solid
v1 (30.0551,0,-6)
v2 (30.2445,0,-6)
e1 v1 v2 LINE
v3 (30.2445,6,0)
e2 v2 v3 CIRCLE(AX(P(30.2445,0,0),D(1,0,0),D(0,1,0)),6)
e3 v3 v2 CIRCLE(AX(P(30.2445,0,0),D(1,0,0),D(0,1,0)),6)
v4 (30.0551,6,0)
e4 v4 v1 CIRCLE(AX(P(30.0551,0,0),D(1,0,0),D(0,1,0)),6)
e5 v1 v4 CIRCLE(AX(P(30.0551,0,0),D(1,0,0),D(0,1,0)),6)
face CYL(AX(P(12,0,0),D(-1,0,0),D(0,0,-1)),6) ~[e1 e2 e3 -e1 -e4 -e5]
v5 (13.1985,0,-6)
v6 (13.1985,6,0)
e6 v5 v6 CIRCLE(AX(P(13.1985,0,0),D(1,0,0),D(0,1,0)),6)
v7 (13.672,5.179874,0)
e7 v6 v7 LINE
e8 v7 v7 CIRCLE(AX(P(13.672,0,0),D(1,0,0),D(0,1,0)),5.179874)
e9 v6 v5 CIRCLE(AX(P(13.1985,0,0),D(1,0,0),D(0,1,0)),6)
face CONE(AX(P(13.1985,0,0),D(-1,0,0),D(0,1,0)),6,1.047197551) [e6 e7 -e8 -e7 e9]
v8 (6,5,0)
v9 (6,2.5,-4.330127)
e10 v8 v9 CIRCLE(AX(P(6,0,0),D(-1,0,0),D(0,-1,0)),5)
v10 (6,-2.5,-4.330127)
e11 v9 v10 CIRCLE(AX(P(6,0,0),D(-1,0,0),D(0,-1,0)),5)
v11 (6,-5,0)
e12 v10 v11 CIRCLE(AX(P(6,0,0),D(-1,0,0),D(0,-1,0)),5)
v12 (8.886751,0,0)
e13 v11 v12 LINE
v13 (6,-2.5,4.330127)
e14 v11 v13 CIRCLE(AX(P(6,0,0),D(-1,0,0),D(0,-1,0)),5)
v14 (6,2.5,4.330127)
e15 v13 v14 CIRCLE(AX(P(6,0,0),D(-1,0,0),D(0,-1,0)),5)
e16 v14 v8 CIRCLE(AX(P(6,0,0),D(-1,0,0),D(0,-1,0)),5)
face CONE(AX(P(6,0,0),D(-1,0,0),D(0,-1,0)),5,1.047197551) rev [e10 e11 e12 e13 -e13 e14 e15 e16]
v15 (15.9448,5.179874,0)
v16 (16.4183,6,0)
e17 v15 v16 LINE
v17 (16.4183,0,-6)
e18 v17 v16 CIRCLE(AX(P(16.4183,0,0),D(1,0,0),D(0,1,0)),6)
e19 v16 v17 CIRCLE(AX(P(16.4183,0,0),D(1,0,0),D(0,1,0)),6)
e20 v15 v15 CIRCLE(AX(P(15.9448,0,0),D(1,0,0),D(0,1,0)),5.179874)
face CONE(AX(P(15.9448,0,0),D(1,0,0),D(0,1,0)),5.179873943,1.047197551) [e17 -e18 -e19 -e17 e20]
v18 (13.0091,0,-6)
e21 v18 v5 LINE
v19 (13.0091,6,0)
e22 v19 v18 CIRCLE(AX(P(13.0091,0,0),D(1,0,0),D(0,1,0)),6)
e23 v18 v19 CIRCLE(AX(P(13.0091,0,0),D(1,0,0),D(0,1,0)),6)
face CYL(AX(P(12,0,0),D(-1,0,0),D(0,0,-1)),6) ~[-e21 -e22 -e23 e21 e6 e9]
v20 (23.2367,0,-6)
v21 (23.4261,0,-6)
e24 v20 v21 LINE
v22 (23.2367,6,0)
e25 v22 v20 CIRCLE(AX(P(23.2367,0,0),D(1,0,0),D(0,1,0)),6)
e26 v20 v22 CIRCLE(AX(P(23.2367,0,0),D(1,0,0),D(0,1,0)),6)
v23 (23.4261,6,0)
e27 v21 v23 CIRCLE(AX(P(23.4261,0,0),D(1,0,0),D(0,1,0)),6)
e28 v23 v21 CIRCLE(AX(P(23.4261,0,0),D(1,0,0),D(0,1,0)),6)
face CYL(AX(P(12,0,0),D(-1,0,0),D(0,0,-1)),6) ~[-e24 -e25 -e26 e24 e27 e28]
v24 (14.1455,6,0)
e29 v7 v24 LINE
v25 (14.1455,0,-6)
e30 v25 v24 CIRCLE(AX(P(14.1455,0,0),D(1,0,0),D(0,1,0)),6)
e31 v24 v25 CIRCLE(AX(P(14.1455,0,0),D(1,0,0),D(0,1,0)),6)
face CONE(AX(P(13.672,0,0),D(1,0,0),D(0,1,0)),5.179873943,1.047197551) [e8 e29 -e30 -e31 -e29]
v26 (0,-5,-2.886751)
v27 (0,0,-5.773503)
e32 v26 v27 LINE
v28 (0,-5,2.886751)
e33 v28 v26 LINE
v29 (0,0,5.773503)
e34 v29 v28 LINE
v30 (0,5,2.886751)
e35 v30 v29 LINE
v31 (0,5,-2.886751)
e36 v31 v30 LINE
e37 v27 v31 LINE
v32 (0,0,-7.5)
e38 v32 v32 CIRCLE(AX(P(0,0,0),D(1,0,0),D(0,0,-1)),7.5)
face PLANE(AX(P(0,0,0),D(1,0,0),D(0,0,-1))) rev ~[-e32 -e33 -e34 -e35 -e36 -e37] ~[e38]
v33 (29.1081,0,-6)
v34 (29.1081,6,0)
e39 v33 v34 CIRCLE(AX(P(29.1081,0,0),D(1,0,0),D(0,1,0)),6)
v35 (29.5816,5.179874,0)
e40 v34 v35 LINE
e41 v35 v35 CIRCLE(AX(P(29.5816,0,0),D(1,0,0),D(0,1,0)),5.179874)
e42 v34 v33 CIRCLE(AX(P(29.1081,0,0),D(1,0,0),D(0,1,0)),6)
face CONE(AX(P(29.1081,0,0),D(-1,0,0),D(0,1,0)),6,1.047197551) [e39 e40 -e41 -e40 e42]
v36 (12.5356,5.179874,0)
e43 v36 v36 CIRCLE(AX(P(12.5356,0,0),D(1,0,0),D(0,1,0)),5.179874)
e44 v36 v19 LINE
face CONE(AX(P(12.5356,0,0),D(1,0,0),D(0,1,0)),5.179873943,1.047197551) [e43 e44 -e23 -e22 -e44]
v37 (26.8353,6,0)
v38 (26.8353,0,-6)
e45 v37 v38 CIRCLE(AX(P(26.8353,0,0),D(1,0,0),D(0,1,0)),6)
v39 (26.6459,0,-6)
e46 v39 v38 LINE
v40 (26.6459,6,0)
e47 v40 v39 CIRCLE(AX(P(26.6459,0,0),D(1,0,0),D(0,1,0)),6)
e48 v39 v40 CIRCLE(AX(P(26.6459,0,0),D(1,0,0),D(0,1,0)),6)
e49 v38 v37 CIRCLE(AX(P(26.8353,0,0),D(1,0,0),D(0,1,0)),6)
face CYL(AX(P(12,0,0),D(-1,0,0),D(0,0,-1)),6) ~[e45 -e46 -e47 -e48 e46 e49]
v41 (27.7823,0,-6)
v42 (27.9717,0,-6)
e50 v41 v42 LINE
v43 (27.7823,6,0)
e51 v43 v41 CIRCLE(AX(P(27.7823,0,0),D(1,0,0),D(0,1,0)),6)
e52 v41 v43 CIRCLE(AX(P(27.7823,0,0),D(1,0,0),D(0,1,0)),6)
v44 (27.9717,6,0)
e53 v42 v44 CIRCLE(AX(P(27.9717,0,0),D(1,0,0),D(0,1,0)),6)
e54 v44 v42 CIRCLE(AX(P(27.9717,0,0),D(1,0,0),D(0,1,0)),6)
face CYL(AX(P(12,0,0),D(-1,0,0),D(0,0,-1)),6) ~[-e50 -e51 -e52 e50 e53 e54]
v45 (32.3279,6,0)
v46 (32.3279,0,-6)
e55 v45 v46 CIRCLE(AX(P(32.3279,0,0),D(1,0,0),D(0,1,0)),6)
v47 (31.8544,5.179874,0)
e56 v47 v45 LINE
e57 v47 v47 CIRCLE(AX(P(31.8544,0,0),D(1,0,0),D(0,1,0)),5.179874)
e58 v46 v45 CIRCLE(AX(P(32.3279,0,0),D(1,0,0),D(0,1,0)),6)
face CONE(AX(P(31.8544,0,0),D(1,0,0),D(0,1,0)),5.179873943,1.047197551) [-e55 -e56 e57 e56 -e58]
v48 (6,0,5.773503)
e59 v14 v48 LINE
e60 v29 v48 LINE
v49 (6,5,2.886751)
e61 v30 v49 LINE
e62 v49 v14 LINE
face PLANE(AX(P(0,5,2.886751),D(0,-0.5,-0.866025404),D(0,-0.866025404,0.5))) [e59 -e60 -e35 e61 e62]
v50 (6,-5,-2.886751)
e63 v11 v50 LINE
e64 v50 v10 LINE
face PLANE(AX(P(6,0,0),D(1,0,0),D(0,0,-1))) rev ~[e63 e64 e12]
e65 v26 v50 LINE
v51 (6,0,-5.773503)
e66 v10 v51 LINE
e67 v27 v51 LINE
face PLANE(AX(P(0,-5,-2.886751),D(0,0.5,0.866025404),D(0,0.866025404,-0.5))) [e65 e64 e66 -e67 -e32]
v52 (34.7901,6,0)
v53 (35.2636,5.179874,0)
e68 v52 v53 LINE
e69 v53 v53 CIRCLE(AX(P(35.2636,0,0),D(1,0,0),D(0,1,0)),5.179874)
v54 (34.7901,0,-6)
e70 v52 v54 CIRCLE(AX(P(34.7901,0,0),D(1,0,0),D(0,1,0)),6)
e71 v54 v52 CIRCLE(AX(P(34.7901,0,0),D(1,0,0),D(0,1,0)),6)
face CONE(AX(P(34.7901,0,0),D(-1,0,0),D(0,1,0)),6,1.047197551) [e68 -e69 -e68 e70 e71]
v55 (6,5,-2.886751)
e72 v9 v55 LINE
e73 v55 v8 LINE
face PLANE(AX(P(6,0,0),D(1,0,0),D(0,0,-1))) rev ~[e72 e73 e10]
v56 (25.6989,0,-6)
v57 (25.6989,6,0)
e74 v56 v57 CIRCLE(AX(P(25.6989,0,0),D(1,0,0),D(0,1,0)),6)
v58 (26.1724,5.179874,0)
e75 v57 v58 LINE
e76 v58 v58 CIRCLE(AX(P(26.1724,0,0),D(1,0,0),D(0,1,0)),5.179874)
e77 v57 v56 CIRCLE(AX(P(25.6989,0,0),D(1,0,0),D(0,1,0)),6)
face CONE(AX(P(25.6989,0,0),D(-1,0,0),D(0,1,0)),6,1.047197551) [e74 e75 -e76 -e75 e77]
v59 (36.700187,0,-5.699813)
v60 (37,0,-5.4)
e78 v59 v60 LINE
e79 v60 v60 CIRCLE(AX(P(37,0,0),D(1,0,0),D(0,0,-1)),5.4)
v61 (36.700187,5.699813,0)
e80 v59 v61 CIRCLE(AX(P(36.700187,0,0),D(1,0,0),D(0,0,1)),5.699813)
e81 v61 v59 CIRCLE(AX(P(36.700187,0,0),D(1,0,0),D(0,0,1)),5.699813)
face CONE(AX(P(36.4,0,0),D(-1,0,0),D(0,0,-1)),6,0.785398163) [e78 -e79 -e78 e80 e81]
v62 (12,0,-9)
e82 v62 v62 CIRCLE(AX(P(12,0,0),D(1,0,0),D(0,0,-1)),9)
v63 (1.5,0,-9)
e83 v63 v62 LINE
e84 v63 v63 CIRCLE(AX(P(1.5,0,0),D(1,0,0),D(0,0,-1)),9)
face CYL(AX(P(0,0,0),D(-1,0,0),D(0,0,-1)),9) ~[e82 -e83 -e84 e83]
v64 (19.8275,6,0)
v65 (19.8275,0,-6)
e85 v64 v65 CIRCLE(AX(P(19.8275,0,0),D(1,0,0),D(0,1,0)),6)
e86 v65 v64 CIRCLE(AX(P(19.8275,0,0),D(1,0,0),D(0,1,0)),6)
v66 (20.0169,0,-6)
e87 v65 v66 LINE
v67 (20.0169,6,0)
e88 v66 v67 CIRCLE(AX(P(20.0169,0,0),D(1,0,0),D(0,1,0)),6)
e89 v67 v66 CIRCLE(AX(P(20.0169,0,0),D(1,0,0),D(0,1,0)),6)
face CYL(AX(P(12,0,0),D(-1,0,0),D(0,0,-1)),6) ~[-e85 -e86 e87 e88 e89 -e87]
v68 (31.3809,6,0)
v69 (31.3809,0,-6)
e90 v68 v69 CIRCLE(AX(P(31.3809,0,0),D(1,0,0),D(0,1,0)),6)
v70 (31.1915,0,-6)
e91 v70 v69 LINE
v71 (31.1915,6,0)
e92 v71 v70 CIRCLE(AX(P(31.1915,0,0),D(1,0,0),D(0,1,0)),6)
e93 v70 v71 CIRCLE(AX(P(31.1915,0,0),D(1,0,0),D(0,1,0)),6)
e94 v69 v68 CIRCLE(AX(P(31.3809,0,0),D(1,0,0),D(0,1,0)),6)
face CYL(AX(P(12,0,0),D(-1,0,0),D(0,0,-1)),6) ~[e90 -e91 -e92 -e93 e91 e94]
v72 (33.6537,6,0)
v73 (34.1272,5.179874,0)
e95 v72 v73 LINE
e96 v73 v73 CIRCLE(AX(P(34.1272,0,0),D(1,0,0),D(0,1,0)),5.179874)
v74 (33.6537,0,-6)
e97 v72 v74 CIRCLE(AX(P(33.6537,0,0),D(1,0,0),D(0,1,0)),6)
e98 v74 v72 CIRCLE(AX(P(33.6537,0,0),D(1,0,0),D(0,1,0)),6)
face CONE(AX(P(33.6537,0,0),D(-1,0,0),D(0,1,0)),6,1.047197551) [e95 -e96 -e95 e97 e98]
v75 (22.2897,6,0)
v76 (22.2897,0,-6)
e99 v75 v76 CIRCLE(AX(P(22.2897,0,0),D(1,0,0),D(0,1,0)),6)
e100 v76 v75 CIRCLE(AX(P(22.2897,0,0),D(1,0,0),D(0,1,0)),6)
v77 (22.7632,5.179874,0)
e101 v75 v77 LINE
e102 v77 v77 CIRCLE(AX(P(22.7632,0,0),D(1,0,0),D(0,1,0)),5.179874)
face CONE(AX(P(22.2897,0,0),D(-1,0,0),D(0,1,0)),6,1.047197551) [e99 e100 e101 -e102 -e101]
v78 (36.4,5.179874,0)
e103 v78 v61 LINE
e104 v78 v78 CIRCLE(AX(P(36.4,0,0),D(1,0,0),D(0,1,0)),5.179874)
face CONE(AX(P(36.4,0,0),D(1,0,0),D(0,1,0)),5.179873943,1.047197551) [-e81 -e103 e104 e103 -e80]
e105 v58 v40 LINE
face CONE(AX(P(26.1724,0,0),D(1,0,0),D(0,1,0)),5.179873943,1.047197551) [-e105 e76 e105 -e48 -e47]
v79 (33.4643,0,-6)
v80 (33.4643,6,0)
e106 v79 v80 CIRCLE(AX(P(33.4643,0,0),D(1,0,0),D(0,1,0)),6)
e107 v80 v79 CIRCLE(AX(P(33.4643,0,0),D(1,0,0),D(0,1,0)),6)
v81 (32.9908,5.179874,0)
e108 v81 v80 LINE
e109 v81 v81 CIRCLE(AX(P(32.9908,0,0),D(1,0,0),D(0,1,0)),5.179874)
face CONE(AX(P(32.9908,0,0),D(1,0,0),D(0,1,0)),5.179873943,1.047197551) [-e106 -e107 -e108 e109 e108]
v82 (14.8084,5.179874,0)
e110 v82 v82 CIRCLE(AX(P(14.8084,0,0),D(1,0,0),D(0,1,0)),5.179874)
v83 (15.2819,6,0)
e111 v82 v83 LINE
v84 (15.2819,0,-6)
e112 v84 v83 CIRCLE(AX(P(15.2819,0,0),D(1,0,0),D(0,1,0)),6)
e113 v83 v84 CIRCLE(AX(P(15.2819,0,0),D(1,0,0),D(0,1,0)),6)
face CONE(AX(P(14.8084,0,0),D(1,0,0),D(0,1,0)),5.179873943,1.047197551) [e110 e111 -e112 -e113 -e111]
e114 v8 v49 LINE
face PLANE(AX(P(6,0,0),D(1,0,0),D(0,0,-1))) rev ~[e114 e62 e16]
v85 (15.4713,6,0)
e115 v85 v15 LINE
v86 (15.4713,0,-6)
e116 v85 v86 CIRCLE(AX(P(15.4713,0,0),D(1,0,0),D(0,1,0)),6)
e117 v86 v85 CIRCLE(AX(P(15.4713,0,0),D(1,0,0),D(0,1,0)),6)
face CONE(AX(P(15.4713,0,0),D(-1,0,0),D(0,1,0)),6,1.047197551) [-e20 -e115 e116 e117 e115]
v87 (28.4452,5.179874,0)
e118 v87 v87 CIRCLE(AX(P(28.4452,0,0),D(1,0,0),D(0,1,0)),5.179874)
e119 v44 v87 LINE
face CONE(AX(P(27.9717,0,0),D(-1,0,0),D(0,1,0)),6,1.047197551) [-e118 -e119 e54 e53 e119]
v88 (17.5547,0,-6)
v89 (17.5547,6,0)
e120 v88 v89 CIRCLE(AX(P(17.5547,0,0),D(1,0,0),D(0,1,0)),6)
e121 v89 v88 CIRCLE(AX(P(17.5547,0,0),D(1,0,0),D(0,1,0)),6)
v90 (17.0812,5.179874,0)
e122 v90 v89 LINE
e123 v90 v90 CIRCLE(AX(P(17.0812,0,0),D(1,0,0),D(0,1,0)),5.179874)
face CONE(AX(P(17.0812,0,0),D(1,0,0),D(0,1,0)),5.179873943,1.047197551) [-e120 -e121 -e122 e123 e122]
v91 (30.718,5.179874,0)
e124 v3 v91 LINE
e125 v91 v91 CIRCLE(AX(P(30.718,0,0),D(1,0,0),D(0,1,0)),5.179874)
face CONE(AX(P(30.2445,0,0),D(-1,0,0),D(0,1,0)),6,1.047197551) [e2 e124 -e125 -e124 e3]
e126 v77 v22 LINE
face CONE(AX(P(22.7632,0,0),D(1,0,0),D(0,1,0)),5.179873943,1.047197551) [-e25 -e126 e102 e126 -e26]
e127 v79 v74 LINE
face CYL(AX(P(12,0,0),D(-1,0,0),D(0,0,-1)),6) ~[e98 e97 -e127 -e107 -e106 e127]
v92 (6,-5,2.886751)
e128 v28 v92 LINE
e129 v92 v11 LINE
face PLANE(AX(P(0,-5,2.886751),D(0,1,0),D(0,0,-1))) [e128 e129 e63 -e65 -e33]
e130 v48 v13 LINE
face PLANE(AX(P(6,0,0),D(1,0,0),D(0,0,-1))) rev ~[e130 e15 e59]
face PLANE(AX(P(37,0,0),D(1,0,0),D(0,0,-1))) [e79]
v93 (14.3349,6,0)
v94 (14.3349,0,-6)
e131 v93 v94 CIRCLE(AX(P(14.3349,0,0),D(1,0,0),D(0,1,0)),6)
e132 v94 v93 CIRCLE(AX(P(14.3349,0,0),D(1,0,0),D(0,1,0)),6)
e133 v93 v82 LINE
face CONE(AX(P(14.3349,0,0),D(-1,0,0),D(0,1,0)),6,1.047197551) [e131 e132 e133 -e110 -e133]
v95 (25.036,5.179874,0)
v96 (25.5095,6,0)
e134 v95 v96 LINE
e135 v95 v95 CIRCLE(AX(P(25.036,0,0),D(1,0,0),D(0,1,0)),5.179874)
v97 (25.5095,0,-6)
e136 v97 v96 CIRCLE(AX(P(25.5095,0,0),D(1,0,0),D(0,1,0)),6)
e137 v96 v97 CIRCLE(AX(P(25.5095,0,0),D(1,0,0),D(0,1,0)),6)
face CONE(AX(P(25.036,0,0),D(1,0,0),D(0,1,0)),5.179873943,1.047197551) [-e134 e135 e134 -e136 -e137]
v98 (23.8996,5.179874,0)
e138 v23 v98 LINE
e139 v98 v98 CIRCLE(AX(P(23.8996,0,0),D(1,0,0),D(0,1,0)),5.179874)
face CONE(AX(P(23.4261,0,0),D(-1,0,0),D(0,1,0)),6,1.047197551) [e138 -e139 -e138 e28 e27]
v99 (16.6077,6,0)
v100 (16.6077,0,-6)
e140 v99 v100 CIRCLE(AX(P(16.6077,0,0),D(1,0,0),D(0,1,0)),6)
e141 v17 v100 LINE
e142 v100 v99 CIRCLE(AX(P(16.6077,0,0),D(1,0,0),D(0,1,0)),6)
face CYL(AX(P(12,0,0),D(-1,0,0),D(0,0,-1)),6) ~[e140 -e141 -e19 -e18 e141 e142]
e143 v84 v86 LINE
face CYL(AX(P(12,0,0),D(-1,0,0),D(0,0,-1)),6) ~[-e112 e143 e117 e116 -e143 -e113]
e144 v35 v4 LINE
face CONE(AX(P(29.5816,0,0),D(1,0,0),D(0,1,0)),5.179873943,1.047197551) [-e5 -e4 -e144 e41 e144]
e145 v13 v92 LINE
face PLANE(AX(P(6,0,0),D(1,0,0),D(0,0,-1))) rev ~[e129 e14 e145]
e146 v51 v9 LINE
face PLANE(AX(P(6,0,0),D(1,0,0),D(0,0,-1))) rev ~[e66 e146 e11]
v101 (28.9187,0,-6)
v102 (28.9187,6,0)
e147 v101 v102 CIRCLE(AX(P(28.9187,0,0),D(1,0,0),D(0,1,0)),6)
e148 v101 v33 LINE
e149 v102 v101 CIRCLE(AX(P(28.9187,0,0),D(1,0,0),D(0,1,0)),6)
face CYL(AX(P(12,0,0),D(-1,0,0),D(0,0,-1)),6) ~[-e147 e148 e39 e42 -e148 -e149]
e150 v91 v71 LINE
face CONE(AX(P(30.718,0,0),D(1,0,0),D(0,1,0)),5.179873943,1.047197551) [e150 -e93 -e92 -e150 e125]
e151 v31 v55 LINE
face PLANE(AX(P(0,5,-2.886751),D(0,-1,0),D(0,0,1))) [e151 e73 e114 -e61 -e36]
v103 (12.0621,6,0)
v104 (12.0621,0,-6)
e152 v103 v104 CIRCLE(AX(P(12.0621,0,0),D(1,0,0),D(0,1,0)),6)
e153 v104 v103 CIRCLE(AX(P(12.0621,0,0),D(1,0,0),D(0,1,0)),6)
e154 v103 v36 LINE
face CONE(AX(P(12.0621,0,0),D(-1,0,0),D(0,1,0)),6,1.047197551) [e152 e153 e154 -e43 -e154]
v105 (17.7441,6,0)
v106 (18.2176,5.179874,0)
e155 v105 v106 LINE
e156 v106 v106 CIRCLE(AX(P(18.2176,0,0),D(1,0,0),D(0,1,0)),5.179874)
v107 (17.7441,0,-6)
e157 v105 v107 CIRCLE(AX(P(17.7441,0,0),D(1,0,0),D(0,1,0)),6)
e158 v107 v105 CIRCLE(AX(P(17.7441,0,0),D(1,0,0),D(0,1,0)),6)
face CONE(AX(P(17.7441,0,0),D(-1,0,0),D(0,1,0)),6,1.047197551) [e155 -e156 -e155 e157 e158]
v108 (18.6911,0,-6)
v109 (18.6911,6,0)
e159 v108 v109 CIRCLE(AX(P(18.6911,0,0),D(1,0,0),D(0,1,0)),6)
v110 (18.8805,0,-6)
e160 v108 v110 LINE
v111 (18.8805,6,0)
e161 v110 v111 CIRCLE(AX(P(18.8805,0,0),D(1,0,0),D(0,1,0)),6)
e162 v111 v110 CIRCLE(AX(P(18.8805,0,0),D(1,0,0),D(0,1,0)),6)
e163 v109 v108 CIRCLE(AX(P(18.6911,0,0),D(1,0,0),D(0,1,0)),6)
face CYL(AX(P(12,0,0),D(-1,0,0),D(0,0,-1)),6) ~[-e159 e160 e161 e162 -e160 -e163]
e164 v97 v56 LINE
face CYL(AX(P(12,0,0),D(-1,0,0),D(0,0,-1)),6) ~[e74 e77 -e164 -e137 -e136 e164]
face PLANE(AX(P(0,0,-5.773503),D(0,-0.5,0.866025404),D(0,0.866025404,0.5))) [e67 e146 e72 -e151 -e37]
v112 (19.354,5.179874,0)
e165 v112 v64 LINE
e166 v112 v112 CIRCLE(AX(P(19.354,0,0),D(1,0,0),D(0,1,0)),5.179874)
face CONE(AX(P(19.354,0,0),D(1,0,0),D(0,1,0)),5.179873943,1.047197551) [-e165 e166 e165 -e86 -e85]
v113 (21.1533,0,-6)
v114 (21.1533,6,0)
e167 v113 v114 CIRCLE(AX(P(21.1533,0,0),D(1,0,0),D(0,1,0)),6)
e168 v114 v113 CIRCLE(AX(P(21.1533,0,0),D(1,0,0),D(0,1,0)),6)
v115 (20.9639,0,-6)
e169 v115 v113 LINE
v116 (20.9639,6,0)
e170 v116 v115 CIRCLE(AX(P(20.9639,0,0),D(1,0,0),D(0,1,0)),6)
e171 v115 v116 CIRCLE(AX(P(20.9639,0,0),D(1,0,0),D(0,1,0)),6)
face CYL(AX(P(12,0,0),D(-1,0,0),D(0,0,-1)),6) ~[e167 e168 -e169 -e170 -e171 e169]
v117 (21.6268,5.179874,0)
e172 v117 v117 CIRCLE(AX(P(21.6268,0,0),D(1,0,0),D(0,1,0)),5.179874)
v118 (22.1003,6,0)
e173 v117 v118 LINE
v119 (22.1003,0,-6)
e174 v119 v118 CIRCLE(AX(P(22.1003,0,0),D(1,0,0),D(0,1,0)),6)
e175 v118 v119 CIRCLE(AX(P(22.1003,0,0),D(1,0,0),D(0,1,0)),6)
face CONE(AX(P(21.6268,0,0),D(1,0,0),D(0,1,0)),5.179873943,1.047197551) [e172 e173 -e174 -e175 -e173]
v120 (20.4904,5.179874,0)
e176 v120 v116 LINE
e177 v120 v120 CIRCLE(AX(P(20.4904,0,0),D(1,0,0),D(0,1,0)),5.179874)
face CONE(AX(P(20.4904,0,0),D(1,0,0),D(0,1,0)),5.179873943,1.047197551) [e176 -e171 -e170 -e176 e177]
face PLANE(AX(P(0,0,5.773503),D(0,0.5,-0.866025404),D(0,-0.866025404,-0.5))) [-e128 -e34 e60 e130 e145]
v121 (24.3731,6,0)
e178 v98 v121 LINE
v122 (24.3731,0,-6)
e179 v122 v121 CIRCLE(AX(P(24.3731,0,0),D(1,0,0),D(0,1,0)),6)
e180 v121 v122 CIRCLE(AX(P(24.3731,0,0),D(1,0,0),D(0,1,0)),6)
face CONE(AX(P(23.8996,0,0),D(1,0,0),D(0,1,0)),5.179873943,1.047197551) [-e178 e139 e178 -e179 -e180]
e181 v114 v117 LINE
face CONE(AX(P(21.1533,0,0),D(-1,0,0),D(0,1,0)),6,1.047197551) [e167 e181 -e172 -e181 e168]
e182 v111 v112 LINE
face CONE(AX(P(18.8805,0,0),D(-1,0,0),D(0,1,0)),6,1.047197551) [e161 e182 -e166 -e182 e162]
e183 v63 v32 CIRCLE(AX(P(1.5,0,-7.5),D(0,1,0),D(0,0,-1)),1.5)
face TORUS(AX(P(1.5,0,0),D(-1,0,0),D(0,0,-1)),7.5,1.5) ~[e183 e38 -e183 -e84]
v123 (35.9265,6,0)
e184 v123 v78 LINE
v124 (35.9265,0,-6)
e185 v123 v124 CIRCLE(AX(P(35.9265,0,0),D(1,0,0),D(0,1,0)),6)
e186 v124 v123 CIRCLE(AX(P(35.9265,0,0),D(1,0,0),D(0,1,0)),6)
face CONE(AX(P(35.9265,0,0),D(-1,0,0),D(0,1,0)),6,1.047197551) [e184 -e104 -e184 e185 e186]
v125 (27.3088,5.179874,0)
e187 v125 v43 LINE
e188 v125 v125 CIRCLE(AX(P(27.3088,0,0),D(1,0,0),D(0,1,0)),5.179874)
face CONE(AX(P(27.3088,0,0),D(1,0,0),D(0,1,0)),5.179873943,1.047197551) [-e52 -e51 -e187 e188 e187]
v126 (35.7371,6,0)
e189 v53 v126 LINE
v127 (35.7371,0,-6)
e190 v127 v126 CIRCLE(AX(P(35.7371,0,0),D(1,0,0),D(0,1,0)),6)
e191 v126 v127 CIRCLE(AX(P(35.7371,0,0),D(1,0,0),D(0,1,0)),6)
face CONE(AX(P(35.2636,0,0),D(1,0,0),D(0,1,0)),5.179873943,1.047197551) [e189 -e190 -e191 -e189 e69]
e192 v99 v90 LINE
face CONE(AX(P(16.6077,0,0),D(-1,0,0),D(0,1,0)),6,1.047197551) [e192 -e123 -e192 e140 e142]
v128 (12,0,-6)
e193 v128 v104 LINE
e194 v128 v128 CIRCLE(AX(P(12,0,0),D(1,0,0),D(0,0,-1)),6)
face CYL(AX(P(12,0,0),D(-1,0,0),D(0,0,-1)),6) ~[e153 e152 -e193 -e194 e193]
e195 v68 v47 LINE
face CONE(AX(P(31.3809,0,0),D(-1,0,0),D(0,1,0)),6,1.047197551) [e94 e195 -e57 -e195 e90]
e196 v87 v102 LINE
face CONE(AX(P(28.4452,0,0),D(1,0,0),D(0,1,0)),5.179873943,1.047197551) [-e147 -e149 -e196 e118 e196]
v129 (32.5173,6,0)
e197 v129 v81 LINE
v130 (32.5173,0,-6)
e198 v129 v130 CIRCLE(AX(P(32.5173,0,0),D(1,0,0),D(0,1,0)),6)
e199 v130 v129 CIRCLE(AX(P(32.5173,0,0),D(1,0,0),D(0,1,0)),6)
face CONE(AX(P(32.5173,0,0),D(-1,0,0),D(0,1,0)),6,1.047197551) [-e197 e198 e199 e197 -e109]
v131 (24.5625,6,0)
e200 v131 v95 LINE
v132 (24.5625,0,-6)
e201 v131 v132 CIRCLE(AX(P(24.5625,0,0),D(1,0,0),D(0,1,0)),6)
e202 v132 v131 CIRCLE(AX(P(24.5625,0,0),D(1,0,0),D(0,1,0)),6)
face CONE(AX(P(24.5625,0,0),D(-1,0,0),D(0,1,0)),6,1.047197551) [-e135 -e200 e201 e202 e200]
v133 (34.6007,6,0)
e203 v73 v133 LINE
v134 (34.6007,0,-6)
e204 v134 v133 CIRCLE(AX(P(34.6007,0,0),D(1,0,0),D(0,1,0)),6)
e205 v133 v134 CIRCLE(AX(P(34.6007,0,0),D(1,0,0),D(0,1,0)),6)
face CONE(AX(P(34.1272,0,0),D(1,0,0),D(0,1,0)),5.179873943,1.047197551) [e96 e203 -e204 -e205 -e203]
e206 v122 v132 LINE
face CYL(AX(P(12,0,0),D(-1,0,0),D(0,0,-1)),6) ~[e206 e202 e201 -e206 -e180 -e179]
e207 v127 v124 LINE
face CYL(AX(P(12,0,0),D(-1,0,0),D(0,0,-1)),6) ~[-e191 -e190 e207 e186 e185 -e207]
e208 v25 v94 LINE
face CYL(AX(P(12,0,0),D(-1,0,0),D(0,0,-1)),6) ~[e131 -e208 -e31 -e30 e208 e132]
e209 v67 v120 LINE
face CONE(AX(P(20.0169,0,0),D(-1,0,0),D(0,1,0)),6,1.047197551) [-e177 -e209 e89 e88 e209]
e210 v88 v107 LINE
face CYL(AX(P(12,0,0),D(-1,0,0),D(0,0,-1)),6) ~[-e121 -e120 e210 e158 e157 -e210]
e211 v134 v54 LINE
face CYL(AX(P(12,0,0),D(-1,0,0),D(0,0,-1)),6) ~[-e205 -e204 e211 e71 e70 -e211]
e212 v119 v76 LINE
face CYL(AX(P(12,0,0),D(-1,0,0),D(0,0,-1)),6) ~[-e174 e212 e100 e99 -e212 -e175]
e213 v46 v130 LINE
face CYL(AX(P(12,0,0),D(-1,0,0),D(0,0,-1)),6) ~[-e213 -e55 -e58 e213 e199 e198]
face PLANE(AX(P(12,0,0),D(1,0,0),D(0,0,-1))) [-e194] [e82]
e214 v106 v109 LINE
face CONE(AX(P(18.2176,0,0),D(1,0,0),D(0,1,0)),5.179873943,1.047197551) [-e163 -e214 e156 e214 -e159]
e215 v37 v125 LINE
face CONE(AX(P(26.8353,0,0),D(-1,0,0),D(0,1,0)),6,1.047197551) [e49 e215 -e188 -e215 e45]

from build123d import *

# Parameters (mm, degrees)
SKETCH1_R           = 9
BASEHEAD_DEPTH      = 12
SKETCH2_R           = 6
BASEBODY_DEPTH      = 25
HEXAGONSOCKET_DEPTH = 6
TOPFILLET_R         = 1.5
CHAMFER1_SIZE       = 0.6
LPATTERN10_COUNT    = 22
LPATTERN10_PITCH    = 1.1364


with BuildPart() as part:
    # Sketch1 → BaseHead (new body)
    with BuildSketch(Plane(origin=(0, 0, 0), x_dir=(0, 0, -1), z_dir=(1, 0, 0))):
        Circle(SKETCH1_R)
    extrude(amount=BASEHEAD_DEPTH)

    # Sketch2 → BaseBody (add)
    with BuildSketch(Plane(origin=(12, 0, 0), x_dir=(0, 0, -1), z_dir=(1, 0, 0))):
        Circle(SKETCH2_R)
    extrude(amount=BASEBODY_DEPTH)

    # Sketch3 → HexagonSocket (cut)
    with BuildSketch(Plane(origin=(0, 0, 0), x_dir=(0, 0, -1), z_dir=(1, 0, 0))):
        Polygon((5.773502692, 0), (2.886751346, 5), (-2.886751346, 5), (-5.773502692, 0), (-2.886751346, -5), (2.886751346, -5), align=None)
    extrude(amount=HEXAGONSOCKET_DEPTH, mode=Mode.SUBTRACT)

    # Sketch4 → Cut-Revolve1 (revolve, cut)
    with BuildSketch(Plane(origin=(-4.19613823, 0.75, 0), x_dir=(-1, 0, 0), z_dir=(0, 0, 1))):
        Polygon((-10.19613823, 5.75), (-13.082889576, 0.75), (-10.19613823, 0.75), align=None)
    revolve(axis=Axis((0.838992387, 0, 0), (-1, 0, 0)), mode=Mode.SUBTRACT)

    # TopFillet
    topfillet_edges = [part.edges().sort_by_distance(p)[0] for p in [
        (0, 0, 9),
    ]]
    fillet(topfillet_edges, radius=TOPFILLET_R)

    # Chamfer1
    chamfer1_edges = [part.edges().sort_by_distance(p)[0] for p in [
        (37, 0, 6),
    ]]
    chamfer(chamfer1_edges, length=CHAMFER1_SIZE)

    # Sketch5 → Cut-Revolve10 (revolve, cut)
    with BuildSketch(Plane.XY):
        Polygon((36.4, 5.179873943), (36.8735, 6), (36.8735, 6.947), (35.9265, 6.947), (35.9265, 6), align=None)
    cut_revolve10 = revolve(axis=Axis((0, 0, 0), (1, 0, 0)), mode=Mode.SUBTRACT)

    # LPattern10: Cut-Revolve10 ×22
    with Locations(*[(-i * LPATTERN10_PITCH, 0, 0) for i in range(1, LPATTERN10_COUNT)]):
        add(cut_revolve10, mode=Mode.SUBTRACT)


solid = part.part
